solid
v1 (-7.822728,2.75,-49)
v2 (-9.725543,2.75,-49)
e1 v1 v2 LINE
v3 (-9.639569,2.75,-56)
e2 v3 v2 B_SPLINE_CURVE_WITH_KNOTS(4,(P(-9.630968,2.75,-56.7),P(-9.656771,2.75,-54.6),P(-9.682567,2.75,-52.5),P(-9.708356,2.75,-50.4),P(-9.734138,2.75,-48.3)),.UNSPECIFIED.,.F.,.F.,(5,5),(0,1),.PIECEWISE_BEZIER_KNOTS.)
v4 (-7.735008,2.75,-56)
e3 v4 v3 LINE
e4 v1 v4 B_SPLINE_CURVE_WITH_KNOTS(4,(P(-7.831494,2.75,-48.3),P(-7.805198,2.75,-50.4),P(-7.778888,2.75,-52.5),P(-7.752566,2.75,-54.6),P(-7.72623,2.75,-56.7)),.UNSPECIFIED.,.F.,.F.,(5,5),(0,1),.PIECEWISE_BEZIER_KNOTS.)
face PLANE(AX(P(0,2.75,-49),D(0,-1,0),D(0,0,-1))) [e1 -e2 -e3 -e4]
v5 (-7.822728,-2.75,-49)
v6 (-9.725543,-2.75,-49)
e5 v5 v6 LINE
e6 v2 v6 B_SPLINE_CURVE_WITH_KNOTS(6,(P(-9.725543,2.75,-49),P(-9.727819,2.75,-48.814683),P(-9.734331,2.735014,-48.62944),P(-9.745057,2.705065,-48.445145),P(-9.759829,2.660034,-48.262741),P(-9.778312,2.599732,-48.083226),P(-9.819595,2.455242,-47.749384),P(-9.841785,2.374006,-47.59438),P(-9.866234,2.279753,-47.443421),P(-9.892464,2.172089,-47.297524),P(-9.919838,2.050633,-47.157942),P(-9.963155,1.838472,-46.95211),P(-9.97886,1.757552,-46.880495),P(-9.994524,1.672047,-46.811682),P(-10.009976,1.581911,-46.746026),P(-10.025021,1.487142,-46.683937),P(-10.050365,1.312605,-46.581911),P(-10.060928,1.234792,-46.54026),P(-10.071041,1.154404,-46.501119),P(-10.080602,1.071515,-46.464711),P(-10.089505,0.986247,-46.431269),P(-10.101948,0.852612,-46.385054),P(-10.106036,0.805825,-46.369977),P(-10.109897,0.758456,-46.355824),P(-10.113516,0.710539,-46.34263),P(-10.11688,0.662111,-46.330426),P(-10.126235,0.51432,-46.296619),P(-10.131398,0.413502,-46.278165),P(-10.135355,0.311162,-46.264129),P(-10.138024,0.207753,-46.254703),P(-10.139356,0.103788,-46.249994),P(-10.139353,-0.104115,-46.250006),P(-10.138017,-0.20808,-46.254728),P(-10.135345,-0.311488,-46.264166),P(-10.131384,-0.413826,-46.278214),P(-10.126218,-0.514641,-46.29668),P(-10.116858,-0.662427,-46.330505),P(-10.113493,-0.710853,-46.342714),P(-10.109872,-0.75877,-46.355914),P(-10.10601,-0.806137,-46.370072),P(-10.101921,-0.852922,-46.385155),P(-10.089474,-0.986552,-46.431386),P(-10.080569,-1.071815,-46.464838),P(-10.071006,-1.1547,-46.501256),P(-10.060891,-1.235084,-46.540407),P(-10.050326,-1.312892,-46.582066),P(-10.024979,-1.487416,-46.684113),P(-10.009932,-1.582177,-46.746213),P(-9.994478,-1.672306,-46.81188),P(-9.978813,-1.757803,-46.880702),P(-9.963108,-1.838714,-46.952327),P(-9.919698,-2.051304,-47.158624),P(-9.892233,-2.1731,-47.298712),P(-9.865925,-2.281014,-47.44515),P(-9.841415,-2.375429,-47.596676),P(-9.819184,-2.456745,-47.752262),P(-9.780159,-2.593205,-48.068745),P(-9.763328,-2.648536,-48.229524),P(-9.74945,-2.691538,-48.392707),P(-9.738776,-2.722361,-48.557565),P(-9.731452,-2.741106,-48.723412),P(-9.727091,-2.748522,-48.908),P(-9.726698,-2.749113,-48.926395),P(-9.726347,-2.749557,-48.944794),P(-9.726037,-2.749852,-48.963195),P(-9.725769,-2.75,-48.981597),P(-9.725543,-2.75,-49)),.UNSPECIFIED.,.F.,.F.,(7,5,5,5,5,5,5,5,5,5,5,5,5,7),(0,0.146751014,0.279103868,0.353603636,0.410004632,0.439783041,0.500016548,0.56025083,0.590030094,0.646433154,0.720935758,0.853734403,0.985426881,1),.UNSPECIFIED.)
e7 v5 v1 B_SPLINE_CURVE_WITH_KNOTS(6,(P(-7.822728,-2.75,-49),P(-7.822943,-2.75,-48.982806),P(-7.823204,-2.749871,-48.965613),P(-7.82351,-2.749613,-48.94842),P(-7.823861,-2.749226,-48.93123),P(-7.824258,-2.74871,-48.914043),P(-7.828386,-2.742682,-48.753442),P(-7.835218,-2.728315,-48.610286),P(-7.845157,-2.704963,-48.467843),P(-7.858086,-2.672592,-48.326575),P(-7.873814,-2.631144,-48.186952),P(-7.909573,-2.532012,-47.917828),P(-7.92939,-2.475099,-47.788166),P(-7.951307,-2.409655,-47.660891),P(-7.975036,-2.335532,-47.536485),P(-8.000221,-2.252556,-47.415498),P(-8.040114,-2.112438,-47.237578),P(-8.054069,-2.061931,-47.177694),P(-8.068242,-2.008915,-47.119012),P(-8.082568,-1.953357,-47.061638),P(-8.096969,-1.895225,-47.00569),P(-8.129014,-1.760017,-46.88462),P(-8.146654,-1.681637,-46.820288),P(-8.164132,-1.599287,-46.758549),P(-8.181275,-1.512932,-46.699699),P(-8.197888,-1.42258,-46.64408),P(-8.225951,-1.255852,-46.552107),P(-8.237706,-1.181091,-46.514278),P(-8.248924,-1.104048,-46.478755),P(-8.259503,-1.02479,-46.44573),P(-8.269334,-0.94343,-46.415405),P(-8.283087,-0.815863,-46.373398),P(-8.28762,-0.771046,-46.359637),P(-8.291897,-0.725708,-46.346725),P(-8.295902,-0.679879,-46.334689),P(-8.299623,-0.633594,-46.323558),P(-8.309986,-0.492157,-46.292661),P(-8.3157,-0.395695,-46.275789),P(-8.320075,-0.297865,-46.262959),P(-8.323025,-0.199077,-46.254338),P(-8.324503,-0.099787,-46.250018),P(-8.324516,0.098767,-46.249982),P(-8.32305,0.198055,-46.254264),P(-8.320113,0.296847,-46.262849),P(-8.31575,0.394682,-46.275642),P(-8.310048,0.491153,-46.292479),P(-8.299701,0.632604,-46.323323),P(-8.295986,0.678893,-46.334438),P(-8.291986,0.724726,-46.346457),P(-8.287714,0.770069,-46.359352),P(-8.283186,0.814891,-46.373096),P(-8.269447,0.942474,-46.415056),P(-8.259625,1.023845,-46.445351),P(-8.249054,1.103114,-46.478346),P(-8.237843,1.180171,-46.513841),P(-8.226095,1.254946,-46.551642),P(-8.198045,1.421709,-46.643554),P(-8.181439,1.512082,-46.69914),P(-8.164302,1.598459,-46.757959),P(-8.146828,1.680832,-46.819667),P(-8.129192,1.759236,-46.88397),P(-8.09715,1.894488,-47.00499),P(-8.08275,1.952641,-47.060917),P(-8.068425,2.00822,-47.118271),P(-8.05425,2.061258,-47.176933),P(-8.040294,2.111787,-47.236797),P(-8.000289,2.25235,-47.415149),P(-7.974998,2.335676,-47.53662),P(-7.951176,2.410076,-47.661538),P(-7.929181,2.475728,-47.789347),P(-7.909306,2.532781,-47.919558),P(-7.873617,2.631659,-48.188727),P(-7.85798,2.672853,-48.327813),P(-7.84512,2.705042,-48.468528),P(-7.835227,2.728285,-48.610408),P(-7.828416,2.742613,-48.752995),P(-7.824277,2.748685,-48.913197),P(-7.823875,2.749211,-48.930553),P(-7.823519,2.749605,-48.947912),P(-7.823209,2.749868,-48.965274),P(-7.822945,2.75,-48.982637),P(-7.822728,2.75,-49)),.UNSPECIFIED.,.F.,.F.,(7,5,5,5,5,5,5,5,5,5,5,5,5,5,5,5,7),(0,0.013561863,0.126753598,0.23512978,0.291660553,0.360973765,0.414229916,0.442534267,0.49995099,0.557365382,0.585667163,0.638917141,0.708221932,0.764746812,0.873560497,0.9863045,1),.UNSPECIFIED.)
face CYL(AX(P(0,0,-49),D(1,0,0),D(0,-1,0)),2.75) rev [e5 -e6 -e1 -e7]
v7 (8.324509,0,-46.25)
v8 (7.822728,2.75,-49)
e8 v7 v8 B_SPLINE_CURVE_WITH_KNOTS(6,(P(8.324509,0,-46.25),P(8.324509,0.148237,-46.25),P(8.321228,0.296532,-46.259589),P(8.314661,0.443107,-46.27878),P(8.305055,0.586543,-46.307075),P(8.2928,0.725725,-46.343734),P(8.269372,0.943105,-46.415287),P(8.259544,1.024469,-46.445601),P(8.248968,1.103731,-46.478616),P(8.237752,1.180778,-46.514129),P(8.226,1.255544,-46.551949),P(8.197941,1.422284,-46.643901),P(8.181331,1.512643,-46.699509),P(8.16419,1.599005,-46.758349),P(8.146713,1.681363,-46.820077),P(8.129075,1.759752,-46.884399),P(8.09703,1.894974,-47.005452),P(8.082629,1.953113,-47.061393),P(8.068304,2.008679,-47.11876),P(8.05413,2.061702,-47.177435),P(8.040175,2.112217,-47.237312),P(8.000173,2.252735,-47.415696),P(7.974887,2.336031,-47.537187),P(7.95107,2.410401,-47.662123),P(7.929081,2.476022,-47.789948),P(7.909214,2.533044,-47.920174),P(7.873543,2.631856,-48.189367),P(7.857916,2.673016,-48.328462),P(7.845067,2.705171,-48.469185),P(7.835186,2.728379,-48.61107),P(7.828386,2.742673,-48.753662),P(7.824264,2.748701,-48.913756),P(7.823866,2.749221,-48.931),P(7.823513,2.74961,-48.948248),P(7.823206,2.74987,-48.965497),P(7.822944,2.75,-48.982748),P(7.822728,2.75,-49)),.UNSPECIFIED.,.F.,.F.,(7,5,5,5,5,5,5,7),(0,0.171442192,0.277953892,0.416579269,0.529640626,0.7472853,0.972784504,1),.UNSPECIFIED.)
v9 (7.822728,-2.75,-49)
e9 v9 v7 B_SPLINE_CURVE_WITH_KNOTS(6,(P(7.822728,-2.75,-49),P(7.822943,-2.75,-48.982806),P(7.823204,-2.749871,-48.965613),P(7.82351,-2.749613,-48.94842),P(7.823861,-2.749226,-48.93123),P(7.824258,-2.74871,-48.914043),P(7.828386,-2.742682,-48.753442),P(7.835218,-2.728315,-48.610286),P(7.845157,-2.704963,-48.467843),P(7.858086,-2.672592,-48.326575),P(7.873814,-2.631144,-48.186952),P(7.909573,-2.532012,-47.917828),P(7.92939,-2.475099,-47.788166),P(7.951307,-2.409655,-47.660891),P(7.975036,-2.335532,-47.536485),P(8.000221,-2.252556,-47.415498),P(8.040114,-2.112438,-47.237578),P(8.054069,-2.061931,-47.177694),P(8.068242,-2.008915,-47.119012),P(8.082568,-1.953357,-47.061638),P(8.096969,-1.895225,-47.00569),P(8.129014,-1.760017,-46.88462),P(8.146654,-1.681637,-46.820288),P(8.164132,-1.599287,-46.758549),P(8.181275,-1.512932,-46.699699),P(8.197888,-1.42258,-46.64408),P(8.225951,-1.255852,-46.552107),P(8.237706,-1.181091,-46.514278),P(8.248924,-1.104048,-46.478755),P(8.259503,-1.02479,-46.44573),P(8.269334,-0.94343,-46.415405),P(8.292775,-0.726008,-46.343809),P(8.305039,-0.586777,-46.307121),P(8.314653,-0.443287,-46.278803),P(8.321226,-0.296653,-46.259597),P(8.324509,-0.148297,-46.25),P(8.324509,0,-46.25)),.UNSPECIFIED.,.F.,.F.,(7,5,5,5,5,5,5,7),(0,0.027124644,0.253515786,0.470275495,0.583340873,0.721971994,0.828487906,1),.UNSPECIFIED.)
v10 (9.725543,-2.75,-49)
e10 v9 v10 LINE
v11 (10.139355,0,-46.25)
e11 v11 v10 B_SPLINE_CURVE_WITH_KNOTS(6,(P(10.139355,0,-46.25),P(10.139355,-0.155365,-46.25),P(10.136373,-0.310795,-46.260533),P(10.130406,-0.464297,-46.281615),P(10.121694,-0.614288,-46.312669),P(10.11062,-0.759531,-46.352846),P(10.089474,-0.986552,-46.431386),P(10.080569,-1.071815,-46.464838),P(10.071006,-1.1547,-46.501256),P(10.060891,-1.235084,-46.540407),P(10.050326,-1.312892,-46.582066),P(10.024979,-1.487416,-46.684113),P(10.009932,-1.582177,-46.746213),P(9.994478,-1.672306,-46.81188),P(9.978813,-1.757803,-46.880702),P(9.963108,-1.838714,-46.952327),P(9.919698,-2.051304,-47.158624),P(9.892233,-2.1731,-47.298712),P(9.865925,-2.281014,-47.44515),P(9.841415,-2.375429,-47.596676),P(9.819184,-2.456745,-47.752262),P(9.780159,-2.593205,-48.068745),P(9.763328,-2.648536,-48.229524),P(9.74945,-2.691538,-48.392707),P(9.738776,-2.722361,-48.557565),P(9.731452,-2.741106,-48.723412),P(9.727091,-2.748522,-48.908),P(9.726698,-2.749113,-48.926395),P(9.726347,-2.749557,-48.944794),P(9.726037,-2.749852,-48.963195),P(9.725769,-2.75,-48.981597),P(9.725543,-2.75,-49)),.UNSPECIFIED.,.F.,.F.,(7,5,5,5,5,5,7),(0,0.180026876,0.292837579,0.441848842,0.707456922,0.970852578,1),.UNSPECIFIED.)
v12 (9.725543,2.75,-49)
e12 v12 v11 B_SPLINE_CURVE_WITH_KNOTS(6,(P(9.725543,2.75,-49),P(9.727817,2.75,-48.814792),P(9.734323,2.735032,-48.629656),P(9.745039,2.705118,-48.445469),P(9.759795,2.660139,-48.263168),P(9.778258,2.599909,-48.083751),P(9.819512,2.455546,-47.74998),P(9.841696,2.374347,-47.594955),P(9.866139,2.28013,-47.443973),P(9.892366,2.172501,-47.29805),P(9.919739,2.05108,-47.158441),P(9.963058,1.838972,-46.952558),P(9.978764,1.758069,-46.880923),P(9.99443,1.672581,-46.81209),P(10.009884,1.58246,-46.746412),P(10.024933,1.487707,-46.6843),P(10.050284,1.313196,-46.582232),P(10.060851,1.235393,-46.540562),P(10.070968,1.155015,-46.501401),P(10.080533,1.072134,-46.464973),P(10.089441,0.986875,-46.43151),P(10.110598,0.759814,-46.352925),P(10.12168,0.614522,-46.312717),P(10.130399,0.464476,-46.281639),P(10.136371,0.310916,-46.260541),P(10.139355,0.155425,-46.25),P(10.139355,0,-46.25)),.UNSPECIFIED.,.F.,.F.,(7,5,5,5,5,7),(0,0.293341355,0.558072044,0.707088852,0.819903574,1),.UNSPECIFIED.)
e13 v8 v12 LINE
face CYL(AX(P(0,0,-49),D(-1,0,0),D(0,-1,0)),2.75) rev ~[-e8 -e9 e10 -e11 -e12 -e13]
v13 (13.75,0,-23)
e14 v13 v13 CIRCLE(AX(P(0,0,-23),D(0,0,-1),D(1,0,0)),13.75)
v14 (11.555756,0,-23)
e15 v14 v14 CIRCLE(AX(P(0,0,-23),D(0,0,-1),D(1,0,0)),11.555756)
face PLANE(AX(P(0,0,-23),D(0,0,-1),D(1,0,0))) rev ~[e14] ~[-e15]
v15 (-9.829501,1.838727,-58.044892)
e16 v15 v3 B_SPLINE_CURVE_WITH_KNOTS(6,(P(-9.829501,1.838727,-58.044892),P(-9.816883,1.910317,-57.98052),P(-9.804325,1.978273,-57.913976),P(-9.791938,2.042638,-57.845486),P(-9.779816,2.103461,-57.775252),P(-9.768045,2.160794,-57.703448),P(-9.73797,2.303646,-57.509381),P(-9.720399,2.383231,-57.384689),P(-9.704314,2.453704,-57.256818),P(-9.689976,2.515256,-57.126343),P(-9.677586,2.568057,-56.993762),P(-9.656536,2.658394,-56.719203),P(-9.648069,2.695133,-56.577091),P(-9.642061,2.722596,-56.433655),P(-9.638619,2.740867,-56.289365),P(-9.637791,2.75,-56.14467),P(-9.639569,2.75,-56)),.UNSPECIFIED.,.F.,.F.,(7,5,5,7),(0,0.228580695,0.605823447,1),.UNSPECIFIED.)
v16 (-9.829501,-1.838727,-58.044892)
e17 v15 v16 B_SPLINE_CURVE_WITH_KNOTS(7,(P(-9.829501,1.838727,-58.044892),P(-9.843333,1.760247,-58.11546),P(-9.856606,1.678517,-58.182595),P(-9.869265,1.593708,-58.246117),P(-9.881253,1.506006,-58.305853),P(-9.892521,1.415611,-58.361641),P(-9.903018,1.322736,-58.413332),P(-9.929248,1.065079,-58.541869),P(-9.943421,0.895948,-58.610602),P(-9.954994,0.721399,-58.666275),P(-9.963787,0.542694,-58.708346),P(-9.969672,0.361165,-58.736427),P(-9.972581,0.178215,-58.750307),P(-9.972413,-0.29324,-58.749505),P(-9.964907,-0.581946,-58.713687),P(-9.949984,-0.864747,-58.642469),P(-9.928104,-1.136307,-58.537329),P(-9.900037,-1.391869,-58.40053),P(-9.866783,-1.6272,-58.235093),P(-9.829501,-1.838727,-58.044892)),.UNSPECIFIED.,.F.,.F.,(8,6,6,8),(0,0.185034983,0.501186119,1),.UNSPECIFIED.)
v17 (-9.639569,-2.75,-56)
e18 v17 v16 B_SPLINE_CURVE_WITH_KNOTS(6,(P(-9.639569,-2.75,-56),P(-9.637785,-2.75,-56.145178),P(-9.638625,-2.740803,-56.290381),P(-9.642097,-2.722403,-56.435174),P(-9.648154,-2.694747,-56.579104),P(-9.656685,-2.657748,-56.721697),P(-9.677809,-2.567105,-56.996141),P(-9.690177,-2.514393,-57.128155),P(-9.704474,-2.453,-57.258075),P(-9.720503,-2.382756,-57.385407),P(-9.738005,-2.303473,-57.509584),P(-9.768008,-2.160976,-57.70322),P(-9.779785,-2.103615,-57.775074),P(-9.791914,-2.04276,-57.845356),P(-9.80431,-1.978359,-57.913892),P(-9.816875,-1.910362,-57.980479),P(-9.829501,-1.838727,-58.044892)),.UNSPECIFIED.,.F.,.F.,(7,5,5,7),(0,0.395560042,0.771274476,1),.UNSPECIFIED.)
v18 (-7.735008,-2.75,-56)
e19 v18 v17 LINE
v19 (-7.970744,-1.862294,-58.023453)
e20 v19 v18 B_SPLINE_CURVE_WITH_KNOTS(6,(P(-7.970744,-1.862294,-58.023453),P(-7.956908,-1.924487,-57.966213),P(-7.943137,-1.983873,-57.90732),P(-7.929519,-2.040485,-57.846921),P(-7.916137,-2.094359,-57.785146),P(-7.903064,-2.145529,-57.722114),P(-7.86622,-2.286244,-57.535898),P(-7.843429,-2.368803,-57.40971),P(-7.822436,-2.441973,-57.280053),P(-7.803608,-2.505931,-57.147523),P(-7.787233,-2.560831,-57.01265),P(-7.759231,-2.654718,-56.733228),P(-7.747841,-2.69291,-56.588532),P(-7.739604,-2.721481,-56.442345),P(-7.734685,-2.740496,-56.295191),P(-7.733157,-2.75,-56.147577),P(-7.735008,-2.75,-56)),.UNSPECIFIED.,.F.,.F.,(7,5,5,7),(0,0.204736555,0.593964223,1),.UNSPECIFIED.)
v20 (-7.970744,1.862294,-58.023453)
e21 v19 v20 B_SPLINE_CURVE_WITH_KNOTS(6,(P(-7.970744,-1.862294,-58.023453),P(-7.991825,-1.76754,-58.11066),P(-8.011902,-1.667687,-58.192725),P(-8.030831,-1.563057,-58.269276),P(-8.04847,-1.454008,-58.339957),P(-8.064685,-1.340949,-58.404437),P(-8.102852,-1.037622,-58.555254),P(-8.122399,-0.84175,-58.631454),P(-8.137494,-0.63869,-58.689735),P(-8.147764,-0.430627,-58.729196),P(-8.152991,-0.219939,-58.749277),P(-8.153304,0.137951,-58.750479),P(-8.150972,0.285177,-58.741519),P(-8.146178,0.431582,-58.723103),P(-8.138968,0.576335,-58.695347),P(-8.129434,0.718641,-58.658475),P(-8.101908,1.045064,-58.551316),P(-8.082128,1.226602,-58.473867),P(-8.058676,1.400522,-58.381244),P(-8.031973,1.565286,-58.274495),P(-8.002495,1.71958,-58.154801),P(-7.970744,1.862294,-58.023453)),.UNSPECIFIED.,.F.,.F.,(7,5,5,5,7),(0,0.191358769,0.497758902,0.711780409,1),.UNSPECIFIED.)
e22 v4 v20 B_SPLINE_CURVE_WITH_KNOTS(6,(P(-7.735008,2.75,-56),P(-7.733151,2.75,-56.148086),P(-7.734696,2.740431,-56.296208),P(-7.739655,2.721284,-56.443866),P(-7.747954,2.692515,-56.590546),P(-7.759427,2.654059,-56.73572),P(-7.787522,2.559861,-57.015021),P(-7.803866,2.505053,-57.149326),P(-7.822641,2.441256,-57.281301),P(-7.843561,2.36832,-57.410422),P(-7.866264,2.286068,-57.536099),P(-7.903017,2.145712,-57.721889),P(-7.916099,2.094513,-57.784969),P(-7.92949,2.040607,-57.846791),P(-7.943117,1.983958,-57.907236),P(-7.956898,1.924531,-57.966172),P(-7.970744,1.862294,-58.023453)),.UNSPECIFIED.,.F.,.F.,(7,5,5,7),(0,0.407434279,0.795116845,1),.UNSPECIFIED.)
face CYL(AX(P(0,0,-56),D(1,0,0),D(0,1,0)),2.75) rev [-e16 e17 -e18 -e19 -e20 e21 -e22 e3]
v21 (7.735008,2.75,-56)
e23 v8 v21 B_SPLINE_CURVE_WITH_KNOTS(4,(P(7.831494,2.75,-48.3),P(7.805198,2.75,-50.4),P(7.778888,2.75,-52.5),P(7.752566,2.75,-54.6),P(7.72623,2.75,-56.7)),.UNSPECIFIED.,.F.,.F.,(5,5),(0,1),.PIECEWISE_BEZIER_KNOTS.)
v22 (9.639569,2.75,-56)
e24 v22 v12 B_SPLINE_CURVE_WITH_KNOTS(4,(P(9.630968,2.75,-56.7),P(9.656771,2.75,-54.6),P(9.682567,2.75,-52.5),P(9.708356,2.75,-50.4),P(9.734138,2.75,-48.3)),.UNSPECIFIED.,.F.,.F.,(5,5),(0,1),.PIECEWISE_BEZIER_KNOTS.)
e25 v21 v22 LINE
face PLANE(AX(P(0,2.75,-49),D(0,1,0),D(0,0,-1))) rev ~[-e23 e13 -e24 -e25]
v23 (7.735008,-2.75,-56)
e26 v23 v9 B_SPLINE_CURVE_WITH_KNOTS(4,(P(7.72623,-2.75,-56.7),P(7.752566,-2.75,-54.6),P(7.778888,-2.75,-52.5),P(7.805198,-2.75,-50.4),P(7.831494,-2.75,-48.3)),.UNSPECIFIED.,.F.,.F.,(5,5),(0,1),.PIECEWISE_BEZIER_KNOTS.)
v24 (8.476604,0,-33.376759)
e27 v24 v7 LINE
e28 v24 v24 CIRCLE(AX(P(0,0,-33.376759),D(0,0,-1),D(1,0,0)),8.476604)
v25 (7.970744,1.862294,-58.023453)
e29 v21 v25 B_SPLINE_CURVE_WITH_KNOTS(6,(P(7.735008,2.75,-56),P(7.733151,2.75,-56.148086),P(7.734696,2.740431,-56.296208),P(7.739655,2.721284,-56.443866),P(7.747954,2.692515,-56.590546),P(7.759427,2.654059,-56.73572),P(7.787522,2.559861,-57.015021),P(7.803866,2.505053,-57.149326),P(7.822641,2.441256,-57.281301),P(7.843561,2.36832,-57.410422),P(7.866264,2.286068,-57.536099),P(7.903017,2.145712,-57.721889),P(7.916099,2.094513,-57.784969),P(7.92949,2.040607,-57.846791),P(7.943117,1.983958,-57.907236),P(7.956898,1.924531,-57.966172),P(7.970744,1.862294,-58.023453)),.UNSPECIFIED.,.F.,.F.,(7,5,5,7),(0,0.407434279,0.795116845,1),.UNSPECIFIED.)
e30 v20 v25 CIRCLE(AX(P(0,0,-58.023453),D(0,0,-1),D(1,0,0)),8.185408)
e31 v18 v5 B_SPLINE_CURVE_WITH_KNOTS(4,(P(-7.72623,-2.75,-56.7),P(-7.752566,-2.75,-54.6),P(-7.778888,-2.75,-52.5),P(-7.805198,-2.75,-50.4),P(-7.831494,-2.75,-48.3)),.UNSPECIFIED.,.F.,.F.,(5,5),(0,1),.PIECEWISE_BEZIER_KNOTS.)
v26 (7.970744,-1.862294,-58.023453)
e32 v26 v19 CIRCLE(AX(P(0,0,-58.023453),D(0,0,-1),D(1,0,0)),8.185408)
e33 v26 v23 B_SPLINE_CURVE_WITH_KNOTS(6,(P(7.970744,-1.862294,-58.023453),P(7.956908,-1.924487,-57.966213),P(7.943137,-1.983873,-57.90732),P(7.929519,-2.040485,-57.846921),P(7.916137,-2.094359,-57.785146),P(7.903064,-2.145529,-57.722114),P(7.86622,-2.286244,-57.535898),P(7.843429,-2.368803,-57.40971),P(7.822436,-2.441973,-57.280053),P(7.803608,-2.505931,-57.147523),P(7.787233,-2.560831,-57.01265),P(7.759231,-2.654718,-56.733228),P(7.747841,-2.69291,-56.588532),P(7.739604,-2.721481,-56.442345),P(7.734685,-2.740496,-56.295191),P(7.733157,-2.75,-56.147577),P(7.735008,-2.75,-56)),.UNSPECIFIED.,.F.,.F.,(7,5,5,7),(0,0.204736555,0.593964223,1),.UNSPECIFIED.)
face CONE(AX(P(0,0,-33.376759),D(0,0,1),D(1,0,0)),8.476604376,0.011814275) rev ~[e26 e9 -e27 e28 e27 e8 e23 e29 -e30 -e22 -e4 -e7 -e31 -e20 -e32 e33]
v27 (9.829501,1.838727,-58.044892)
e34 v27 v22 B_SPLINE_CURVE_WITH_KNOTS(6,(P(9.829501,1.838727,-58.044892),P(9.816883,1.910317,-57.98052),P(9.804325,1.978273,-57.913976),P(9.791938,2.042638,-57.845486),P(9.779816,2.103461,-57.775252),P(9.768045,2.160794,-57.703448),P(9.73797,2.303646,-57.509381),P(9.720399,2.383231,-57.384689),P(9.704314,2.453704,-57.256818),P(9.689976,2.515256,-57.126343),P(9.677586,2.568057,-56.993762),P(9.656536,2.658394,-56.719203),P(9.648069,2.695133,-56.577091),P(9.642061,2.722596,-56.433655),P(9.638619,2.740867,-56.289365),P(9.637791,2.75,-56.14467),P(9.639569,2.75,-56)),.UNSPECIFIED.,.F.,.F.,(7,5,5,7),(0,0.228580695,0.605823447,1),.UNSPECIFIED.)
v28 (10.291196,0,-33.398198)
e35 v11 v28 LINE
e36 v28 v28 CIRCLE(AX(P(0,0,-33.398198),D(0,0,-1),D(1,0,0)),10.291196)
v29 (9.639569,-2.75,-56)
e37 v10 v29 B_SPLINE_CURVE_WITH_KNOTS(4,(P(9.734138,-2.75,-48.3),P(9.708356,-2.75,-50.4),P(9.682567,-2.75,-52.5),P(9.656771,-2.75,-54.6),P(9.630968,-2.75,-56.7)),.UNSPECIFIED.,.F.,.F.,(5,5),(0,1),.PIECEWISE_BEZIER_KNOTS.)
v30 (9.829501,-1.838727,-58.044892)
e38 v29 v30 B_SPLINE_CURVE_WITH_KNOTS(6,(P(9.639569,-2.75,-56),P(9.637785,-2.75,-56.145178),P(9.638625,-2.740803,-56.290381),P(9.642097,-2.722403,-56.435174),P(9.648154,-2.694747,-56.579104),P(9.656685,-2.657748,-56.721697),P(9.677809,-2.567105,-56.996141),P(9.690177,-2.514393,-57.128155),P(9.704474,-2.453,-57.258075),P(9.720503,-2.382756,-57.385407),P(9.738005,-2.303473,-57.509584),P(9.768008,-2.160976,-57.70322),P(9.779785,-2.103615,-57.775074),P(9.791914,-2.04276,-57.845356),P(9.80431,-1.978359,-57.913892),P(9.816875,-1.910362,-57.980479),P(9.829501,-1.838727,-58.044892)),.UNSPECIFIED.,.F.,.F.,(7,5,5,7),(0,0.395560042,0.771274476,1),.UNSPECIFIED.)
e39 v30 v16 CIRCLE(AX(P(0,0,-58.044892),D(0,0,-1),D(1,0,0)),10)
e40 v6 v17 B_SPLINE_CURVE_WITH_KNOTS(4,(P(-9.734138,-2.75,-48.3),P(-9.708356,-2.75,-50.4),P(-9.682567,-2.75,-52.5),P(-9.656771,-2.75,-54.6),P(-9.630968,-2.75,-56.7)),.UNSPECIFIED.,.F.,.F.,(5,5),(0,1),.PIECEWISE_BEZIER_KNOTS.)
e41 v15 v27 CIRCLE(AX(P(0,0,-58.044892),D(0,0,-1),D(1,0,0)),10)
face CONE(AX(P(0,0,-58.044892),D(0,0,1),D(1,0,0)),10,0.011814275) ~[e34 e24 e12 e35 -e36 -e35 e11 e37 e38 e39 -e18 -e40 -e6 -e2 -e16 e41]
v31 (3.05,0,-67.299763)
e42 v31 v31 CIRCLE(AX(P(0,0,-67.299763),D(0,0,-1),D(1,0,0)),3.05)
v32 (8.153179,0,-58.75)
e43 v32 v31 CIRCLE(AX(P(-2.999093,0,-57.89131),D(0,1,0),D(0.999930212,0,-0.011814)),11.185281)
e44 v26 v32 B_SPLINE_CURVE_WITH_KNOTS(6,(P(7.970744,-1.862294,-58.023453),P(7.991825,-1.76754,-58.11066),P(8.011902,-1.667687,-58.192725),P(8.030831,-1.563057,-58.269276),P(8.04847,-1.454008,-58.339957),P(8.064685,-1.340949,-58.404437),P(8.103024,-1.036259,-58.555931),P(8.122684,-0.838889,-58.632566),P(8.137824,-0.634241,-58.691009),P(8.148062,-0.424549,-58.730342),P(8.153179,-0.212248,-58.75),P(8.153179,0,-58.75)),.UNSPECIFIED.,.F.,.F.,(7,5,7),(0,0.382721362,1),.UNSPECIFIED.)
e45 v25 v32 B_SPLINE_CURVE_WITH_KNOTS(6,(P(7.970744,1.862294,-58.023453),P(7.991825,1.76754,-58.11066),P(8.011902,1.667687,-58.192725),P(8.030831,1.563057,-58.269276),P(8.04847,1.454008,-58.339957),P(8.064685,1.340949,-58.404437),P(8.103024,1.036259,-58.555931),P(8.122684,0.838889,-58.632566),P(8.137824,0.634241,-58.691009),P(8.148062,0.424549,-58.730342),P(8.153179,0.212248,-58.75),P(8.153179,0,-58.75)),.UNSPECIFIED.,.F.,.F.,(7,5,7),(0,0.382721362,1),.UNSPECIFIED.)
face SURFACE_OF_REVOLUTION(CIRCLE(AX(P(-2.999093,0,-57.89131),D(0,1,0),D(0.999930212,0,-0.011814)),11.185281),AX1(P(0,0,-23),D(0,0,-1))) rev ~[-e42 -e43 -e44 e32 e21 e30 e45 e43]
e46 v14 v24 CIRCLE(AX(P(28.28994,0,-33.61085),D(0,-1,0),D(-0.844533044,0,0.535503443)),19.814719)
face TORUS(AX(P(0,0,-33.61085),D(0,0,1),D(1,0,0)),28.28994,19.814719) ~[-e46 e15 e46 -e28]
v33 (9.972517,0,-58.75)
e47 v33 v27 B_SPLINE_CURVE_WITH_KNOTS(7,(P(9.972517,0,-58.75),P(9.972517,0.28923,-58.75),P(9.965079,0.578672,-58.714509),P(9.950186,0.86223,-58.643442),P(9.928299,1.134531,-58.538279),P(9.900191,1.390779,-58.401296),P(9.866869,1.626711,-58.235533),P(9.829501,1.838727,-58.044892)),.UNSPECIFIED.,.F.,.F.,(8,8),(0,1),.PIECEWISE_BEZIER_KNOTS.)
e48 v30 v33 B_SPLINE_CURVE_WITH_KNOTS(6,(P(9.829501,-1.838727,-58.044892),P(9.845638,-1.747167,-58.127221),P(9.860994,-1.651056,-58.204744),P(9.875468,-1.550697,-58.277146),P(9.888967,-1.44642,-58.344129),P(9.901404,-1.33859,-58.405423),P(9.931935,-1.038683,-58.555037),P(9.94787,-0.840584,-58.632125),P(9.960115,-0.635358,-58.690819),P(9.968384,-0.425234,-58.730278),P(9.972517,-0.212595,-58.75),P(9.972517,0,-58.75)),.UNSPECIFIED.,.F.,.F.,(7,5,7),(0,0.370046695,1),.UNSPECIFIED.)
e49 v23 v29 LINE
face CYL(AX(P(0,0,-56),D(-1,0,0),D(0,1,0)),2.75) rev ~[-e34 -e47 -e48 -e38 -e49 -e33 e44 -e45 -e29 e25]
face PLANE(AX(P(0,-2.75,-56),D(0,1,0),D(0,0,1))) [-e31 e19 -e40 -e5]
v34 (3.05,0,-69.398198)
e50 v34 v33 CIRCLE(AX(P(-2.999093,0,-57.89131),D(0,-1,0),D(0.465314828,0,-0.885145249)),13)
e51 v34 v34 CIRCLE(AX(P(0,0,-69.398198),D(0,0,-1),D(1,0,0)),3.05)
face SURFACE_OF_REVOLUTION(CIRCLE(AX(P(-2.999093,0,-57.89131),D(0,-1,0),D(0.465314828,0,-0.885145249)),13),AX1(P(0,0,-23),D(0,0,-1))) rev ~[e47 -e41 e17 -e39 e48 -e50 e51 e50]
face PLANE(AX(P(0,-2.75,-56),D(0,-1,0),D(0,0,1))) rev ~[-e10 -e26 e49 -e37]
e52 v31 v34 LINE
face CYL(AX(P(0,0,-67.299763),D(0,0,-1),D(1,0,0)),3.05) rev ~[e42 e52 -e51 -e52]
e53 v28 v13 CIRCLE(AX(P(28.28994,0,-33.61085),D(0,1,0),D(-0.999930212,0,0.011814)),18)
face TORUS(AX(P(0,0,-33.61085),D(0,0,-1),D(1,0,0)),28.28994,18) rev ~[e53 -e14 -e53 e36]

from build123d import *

# Parameters (mm, degrees)
SIDECONNECTIONCUTOUT_DEPTH      = 73.071040696
SIDECONNECTIONCUTOUT_DEPTH_BACK = 73.071040696


with BuildPart() as part:
    # ProfileS → Profile (revolve)
    with BuildSketch(Plane(origin=(0, 0, 0), x_dir=(1, 0, 0), z_dir=(0, 1, 0))):
        with BuildLine():
            Line((10, 58.044891829), (10.291196376, 33.398198054))
            ThreePointArc((10.291196376, 33.398198054), (11.210065487, 27.929487559), (13.75, 23))
            Line((13.75, 23), (11.555755546, 23))
            ThreePointArc((11.555755546, 23), (9.29389864, 27.974053085), (8.476604376, 33.376758967))
            Line((8.476604376, 33.376758967), (8.185408, 58.023452742))
            ThreePointArc((8.185408, 58.023452742), (6.786696454, 63.308767571), (3.05, 67.299763243))
            Line((3.05, 67.299763243), (3.05, 69.398198054))
            ThreePointArc((3.05, 69.398198054), (8.088410722, 64.678596949), (10, 58.044891829))
        make_face()
    revolve(axis=Axis((0, 0, -23), (0, 0, -1)))

    # SideConnectionCutoutS → SideConnectionCutout (cut, two sides: drawn at the far end of the back side and taken through both)
    with BuildSketch(Plane(origin=(0, 0, 0), x_dir=(0, 0, -1), z_dir=(1, 0, 0)).offset(-SIDECONNECTIONCUTOUT_DEPTH_BACK)):
        with BuildLine():
            Line((56, -2.75), (49, -2.75))
            ThreePointArc((49, -2.75), (46.25, 0), (49, 2.75))
            Line((49, 2.75), (56, 2.75))
            ThreePointArc((56, 2.75), (58.75, 0), (56, -2.75))
        make_face()
    extrude(amount=SIDECONNECTIONCUTOUT_DEPTH + SIDECONNECTIONCUTOUT_DEPTH_BACK, mode=Mode.SUBTRACT)


solid = part.part
